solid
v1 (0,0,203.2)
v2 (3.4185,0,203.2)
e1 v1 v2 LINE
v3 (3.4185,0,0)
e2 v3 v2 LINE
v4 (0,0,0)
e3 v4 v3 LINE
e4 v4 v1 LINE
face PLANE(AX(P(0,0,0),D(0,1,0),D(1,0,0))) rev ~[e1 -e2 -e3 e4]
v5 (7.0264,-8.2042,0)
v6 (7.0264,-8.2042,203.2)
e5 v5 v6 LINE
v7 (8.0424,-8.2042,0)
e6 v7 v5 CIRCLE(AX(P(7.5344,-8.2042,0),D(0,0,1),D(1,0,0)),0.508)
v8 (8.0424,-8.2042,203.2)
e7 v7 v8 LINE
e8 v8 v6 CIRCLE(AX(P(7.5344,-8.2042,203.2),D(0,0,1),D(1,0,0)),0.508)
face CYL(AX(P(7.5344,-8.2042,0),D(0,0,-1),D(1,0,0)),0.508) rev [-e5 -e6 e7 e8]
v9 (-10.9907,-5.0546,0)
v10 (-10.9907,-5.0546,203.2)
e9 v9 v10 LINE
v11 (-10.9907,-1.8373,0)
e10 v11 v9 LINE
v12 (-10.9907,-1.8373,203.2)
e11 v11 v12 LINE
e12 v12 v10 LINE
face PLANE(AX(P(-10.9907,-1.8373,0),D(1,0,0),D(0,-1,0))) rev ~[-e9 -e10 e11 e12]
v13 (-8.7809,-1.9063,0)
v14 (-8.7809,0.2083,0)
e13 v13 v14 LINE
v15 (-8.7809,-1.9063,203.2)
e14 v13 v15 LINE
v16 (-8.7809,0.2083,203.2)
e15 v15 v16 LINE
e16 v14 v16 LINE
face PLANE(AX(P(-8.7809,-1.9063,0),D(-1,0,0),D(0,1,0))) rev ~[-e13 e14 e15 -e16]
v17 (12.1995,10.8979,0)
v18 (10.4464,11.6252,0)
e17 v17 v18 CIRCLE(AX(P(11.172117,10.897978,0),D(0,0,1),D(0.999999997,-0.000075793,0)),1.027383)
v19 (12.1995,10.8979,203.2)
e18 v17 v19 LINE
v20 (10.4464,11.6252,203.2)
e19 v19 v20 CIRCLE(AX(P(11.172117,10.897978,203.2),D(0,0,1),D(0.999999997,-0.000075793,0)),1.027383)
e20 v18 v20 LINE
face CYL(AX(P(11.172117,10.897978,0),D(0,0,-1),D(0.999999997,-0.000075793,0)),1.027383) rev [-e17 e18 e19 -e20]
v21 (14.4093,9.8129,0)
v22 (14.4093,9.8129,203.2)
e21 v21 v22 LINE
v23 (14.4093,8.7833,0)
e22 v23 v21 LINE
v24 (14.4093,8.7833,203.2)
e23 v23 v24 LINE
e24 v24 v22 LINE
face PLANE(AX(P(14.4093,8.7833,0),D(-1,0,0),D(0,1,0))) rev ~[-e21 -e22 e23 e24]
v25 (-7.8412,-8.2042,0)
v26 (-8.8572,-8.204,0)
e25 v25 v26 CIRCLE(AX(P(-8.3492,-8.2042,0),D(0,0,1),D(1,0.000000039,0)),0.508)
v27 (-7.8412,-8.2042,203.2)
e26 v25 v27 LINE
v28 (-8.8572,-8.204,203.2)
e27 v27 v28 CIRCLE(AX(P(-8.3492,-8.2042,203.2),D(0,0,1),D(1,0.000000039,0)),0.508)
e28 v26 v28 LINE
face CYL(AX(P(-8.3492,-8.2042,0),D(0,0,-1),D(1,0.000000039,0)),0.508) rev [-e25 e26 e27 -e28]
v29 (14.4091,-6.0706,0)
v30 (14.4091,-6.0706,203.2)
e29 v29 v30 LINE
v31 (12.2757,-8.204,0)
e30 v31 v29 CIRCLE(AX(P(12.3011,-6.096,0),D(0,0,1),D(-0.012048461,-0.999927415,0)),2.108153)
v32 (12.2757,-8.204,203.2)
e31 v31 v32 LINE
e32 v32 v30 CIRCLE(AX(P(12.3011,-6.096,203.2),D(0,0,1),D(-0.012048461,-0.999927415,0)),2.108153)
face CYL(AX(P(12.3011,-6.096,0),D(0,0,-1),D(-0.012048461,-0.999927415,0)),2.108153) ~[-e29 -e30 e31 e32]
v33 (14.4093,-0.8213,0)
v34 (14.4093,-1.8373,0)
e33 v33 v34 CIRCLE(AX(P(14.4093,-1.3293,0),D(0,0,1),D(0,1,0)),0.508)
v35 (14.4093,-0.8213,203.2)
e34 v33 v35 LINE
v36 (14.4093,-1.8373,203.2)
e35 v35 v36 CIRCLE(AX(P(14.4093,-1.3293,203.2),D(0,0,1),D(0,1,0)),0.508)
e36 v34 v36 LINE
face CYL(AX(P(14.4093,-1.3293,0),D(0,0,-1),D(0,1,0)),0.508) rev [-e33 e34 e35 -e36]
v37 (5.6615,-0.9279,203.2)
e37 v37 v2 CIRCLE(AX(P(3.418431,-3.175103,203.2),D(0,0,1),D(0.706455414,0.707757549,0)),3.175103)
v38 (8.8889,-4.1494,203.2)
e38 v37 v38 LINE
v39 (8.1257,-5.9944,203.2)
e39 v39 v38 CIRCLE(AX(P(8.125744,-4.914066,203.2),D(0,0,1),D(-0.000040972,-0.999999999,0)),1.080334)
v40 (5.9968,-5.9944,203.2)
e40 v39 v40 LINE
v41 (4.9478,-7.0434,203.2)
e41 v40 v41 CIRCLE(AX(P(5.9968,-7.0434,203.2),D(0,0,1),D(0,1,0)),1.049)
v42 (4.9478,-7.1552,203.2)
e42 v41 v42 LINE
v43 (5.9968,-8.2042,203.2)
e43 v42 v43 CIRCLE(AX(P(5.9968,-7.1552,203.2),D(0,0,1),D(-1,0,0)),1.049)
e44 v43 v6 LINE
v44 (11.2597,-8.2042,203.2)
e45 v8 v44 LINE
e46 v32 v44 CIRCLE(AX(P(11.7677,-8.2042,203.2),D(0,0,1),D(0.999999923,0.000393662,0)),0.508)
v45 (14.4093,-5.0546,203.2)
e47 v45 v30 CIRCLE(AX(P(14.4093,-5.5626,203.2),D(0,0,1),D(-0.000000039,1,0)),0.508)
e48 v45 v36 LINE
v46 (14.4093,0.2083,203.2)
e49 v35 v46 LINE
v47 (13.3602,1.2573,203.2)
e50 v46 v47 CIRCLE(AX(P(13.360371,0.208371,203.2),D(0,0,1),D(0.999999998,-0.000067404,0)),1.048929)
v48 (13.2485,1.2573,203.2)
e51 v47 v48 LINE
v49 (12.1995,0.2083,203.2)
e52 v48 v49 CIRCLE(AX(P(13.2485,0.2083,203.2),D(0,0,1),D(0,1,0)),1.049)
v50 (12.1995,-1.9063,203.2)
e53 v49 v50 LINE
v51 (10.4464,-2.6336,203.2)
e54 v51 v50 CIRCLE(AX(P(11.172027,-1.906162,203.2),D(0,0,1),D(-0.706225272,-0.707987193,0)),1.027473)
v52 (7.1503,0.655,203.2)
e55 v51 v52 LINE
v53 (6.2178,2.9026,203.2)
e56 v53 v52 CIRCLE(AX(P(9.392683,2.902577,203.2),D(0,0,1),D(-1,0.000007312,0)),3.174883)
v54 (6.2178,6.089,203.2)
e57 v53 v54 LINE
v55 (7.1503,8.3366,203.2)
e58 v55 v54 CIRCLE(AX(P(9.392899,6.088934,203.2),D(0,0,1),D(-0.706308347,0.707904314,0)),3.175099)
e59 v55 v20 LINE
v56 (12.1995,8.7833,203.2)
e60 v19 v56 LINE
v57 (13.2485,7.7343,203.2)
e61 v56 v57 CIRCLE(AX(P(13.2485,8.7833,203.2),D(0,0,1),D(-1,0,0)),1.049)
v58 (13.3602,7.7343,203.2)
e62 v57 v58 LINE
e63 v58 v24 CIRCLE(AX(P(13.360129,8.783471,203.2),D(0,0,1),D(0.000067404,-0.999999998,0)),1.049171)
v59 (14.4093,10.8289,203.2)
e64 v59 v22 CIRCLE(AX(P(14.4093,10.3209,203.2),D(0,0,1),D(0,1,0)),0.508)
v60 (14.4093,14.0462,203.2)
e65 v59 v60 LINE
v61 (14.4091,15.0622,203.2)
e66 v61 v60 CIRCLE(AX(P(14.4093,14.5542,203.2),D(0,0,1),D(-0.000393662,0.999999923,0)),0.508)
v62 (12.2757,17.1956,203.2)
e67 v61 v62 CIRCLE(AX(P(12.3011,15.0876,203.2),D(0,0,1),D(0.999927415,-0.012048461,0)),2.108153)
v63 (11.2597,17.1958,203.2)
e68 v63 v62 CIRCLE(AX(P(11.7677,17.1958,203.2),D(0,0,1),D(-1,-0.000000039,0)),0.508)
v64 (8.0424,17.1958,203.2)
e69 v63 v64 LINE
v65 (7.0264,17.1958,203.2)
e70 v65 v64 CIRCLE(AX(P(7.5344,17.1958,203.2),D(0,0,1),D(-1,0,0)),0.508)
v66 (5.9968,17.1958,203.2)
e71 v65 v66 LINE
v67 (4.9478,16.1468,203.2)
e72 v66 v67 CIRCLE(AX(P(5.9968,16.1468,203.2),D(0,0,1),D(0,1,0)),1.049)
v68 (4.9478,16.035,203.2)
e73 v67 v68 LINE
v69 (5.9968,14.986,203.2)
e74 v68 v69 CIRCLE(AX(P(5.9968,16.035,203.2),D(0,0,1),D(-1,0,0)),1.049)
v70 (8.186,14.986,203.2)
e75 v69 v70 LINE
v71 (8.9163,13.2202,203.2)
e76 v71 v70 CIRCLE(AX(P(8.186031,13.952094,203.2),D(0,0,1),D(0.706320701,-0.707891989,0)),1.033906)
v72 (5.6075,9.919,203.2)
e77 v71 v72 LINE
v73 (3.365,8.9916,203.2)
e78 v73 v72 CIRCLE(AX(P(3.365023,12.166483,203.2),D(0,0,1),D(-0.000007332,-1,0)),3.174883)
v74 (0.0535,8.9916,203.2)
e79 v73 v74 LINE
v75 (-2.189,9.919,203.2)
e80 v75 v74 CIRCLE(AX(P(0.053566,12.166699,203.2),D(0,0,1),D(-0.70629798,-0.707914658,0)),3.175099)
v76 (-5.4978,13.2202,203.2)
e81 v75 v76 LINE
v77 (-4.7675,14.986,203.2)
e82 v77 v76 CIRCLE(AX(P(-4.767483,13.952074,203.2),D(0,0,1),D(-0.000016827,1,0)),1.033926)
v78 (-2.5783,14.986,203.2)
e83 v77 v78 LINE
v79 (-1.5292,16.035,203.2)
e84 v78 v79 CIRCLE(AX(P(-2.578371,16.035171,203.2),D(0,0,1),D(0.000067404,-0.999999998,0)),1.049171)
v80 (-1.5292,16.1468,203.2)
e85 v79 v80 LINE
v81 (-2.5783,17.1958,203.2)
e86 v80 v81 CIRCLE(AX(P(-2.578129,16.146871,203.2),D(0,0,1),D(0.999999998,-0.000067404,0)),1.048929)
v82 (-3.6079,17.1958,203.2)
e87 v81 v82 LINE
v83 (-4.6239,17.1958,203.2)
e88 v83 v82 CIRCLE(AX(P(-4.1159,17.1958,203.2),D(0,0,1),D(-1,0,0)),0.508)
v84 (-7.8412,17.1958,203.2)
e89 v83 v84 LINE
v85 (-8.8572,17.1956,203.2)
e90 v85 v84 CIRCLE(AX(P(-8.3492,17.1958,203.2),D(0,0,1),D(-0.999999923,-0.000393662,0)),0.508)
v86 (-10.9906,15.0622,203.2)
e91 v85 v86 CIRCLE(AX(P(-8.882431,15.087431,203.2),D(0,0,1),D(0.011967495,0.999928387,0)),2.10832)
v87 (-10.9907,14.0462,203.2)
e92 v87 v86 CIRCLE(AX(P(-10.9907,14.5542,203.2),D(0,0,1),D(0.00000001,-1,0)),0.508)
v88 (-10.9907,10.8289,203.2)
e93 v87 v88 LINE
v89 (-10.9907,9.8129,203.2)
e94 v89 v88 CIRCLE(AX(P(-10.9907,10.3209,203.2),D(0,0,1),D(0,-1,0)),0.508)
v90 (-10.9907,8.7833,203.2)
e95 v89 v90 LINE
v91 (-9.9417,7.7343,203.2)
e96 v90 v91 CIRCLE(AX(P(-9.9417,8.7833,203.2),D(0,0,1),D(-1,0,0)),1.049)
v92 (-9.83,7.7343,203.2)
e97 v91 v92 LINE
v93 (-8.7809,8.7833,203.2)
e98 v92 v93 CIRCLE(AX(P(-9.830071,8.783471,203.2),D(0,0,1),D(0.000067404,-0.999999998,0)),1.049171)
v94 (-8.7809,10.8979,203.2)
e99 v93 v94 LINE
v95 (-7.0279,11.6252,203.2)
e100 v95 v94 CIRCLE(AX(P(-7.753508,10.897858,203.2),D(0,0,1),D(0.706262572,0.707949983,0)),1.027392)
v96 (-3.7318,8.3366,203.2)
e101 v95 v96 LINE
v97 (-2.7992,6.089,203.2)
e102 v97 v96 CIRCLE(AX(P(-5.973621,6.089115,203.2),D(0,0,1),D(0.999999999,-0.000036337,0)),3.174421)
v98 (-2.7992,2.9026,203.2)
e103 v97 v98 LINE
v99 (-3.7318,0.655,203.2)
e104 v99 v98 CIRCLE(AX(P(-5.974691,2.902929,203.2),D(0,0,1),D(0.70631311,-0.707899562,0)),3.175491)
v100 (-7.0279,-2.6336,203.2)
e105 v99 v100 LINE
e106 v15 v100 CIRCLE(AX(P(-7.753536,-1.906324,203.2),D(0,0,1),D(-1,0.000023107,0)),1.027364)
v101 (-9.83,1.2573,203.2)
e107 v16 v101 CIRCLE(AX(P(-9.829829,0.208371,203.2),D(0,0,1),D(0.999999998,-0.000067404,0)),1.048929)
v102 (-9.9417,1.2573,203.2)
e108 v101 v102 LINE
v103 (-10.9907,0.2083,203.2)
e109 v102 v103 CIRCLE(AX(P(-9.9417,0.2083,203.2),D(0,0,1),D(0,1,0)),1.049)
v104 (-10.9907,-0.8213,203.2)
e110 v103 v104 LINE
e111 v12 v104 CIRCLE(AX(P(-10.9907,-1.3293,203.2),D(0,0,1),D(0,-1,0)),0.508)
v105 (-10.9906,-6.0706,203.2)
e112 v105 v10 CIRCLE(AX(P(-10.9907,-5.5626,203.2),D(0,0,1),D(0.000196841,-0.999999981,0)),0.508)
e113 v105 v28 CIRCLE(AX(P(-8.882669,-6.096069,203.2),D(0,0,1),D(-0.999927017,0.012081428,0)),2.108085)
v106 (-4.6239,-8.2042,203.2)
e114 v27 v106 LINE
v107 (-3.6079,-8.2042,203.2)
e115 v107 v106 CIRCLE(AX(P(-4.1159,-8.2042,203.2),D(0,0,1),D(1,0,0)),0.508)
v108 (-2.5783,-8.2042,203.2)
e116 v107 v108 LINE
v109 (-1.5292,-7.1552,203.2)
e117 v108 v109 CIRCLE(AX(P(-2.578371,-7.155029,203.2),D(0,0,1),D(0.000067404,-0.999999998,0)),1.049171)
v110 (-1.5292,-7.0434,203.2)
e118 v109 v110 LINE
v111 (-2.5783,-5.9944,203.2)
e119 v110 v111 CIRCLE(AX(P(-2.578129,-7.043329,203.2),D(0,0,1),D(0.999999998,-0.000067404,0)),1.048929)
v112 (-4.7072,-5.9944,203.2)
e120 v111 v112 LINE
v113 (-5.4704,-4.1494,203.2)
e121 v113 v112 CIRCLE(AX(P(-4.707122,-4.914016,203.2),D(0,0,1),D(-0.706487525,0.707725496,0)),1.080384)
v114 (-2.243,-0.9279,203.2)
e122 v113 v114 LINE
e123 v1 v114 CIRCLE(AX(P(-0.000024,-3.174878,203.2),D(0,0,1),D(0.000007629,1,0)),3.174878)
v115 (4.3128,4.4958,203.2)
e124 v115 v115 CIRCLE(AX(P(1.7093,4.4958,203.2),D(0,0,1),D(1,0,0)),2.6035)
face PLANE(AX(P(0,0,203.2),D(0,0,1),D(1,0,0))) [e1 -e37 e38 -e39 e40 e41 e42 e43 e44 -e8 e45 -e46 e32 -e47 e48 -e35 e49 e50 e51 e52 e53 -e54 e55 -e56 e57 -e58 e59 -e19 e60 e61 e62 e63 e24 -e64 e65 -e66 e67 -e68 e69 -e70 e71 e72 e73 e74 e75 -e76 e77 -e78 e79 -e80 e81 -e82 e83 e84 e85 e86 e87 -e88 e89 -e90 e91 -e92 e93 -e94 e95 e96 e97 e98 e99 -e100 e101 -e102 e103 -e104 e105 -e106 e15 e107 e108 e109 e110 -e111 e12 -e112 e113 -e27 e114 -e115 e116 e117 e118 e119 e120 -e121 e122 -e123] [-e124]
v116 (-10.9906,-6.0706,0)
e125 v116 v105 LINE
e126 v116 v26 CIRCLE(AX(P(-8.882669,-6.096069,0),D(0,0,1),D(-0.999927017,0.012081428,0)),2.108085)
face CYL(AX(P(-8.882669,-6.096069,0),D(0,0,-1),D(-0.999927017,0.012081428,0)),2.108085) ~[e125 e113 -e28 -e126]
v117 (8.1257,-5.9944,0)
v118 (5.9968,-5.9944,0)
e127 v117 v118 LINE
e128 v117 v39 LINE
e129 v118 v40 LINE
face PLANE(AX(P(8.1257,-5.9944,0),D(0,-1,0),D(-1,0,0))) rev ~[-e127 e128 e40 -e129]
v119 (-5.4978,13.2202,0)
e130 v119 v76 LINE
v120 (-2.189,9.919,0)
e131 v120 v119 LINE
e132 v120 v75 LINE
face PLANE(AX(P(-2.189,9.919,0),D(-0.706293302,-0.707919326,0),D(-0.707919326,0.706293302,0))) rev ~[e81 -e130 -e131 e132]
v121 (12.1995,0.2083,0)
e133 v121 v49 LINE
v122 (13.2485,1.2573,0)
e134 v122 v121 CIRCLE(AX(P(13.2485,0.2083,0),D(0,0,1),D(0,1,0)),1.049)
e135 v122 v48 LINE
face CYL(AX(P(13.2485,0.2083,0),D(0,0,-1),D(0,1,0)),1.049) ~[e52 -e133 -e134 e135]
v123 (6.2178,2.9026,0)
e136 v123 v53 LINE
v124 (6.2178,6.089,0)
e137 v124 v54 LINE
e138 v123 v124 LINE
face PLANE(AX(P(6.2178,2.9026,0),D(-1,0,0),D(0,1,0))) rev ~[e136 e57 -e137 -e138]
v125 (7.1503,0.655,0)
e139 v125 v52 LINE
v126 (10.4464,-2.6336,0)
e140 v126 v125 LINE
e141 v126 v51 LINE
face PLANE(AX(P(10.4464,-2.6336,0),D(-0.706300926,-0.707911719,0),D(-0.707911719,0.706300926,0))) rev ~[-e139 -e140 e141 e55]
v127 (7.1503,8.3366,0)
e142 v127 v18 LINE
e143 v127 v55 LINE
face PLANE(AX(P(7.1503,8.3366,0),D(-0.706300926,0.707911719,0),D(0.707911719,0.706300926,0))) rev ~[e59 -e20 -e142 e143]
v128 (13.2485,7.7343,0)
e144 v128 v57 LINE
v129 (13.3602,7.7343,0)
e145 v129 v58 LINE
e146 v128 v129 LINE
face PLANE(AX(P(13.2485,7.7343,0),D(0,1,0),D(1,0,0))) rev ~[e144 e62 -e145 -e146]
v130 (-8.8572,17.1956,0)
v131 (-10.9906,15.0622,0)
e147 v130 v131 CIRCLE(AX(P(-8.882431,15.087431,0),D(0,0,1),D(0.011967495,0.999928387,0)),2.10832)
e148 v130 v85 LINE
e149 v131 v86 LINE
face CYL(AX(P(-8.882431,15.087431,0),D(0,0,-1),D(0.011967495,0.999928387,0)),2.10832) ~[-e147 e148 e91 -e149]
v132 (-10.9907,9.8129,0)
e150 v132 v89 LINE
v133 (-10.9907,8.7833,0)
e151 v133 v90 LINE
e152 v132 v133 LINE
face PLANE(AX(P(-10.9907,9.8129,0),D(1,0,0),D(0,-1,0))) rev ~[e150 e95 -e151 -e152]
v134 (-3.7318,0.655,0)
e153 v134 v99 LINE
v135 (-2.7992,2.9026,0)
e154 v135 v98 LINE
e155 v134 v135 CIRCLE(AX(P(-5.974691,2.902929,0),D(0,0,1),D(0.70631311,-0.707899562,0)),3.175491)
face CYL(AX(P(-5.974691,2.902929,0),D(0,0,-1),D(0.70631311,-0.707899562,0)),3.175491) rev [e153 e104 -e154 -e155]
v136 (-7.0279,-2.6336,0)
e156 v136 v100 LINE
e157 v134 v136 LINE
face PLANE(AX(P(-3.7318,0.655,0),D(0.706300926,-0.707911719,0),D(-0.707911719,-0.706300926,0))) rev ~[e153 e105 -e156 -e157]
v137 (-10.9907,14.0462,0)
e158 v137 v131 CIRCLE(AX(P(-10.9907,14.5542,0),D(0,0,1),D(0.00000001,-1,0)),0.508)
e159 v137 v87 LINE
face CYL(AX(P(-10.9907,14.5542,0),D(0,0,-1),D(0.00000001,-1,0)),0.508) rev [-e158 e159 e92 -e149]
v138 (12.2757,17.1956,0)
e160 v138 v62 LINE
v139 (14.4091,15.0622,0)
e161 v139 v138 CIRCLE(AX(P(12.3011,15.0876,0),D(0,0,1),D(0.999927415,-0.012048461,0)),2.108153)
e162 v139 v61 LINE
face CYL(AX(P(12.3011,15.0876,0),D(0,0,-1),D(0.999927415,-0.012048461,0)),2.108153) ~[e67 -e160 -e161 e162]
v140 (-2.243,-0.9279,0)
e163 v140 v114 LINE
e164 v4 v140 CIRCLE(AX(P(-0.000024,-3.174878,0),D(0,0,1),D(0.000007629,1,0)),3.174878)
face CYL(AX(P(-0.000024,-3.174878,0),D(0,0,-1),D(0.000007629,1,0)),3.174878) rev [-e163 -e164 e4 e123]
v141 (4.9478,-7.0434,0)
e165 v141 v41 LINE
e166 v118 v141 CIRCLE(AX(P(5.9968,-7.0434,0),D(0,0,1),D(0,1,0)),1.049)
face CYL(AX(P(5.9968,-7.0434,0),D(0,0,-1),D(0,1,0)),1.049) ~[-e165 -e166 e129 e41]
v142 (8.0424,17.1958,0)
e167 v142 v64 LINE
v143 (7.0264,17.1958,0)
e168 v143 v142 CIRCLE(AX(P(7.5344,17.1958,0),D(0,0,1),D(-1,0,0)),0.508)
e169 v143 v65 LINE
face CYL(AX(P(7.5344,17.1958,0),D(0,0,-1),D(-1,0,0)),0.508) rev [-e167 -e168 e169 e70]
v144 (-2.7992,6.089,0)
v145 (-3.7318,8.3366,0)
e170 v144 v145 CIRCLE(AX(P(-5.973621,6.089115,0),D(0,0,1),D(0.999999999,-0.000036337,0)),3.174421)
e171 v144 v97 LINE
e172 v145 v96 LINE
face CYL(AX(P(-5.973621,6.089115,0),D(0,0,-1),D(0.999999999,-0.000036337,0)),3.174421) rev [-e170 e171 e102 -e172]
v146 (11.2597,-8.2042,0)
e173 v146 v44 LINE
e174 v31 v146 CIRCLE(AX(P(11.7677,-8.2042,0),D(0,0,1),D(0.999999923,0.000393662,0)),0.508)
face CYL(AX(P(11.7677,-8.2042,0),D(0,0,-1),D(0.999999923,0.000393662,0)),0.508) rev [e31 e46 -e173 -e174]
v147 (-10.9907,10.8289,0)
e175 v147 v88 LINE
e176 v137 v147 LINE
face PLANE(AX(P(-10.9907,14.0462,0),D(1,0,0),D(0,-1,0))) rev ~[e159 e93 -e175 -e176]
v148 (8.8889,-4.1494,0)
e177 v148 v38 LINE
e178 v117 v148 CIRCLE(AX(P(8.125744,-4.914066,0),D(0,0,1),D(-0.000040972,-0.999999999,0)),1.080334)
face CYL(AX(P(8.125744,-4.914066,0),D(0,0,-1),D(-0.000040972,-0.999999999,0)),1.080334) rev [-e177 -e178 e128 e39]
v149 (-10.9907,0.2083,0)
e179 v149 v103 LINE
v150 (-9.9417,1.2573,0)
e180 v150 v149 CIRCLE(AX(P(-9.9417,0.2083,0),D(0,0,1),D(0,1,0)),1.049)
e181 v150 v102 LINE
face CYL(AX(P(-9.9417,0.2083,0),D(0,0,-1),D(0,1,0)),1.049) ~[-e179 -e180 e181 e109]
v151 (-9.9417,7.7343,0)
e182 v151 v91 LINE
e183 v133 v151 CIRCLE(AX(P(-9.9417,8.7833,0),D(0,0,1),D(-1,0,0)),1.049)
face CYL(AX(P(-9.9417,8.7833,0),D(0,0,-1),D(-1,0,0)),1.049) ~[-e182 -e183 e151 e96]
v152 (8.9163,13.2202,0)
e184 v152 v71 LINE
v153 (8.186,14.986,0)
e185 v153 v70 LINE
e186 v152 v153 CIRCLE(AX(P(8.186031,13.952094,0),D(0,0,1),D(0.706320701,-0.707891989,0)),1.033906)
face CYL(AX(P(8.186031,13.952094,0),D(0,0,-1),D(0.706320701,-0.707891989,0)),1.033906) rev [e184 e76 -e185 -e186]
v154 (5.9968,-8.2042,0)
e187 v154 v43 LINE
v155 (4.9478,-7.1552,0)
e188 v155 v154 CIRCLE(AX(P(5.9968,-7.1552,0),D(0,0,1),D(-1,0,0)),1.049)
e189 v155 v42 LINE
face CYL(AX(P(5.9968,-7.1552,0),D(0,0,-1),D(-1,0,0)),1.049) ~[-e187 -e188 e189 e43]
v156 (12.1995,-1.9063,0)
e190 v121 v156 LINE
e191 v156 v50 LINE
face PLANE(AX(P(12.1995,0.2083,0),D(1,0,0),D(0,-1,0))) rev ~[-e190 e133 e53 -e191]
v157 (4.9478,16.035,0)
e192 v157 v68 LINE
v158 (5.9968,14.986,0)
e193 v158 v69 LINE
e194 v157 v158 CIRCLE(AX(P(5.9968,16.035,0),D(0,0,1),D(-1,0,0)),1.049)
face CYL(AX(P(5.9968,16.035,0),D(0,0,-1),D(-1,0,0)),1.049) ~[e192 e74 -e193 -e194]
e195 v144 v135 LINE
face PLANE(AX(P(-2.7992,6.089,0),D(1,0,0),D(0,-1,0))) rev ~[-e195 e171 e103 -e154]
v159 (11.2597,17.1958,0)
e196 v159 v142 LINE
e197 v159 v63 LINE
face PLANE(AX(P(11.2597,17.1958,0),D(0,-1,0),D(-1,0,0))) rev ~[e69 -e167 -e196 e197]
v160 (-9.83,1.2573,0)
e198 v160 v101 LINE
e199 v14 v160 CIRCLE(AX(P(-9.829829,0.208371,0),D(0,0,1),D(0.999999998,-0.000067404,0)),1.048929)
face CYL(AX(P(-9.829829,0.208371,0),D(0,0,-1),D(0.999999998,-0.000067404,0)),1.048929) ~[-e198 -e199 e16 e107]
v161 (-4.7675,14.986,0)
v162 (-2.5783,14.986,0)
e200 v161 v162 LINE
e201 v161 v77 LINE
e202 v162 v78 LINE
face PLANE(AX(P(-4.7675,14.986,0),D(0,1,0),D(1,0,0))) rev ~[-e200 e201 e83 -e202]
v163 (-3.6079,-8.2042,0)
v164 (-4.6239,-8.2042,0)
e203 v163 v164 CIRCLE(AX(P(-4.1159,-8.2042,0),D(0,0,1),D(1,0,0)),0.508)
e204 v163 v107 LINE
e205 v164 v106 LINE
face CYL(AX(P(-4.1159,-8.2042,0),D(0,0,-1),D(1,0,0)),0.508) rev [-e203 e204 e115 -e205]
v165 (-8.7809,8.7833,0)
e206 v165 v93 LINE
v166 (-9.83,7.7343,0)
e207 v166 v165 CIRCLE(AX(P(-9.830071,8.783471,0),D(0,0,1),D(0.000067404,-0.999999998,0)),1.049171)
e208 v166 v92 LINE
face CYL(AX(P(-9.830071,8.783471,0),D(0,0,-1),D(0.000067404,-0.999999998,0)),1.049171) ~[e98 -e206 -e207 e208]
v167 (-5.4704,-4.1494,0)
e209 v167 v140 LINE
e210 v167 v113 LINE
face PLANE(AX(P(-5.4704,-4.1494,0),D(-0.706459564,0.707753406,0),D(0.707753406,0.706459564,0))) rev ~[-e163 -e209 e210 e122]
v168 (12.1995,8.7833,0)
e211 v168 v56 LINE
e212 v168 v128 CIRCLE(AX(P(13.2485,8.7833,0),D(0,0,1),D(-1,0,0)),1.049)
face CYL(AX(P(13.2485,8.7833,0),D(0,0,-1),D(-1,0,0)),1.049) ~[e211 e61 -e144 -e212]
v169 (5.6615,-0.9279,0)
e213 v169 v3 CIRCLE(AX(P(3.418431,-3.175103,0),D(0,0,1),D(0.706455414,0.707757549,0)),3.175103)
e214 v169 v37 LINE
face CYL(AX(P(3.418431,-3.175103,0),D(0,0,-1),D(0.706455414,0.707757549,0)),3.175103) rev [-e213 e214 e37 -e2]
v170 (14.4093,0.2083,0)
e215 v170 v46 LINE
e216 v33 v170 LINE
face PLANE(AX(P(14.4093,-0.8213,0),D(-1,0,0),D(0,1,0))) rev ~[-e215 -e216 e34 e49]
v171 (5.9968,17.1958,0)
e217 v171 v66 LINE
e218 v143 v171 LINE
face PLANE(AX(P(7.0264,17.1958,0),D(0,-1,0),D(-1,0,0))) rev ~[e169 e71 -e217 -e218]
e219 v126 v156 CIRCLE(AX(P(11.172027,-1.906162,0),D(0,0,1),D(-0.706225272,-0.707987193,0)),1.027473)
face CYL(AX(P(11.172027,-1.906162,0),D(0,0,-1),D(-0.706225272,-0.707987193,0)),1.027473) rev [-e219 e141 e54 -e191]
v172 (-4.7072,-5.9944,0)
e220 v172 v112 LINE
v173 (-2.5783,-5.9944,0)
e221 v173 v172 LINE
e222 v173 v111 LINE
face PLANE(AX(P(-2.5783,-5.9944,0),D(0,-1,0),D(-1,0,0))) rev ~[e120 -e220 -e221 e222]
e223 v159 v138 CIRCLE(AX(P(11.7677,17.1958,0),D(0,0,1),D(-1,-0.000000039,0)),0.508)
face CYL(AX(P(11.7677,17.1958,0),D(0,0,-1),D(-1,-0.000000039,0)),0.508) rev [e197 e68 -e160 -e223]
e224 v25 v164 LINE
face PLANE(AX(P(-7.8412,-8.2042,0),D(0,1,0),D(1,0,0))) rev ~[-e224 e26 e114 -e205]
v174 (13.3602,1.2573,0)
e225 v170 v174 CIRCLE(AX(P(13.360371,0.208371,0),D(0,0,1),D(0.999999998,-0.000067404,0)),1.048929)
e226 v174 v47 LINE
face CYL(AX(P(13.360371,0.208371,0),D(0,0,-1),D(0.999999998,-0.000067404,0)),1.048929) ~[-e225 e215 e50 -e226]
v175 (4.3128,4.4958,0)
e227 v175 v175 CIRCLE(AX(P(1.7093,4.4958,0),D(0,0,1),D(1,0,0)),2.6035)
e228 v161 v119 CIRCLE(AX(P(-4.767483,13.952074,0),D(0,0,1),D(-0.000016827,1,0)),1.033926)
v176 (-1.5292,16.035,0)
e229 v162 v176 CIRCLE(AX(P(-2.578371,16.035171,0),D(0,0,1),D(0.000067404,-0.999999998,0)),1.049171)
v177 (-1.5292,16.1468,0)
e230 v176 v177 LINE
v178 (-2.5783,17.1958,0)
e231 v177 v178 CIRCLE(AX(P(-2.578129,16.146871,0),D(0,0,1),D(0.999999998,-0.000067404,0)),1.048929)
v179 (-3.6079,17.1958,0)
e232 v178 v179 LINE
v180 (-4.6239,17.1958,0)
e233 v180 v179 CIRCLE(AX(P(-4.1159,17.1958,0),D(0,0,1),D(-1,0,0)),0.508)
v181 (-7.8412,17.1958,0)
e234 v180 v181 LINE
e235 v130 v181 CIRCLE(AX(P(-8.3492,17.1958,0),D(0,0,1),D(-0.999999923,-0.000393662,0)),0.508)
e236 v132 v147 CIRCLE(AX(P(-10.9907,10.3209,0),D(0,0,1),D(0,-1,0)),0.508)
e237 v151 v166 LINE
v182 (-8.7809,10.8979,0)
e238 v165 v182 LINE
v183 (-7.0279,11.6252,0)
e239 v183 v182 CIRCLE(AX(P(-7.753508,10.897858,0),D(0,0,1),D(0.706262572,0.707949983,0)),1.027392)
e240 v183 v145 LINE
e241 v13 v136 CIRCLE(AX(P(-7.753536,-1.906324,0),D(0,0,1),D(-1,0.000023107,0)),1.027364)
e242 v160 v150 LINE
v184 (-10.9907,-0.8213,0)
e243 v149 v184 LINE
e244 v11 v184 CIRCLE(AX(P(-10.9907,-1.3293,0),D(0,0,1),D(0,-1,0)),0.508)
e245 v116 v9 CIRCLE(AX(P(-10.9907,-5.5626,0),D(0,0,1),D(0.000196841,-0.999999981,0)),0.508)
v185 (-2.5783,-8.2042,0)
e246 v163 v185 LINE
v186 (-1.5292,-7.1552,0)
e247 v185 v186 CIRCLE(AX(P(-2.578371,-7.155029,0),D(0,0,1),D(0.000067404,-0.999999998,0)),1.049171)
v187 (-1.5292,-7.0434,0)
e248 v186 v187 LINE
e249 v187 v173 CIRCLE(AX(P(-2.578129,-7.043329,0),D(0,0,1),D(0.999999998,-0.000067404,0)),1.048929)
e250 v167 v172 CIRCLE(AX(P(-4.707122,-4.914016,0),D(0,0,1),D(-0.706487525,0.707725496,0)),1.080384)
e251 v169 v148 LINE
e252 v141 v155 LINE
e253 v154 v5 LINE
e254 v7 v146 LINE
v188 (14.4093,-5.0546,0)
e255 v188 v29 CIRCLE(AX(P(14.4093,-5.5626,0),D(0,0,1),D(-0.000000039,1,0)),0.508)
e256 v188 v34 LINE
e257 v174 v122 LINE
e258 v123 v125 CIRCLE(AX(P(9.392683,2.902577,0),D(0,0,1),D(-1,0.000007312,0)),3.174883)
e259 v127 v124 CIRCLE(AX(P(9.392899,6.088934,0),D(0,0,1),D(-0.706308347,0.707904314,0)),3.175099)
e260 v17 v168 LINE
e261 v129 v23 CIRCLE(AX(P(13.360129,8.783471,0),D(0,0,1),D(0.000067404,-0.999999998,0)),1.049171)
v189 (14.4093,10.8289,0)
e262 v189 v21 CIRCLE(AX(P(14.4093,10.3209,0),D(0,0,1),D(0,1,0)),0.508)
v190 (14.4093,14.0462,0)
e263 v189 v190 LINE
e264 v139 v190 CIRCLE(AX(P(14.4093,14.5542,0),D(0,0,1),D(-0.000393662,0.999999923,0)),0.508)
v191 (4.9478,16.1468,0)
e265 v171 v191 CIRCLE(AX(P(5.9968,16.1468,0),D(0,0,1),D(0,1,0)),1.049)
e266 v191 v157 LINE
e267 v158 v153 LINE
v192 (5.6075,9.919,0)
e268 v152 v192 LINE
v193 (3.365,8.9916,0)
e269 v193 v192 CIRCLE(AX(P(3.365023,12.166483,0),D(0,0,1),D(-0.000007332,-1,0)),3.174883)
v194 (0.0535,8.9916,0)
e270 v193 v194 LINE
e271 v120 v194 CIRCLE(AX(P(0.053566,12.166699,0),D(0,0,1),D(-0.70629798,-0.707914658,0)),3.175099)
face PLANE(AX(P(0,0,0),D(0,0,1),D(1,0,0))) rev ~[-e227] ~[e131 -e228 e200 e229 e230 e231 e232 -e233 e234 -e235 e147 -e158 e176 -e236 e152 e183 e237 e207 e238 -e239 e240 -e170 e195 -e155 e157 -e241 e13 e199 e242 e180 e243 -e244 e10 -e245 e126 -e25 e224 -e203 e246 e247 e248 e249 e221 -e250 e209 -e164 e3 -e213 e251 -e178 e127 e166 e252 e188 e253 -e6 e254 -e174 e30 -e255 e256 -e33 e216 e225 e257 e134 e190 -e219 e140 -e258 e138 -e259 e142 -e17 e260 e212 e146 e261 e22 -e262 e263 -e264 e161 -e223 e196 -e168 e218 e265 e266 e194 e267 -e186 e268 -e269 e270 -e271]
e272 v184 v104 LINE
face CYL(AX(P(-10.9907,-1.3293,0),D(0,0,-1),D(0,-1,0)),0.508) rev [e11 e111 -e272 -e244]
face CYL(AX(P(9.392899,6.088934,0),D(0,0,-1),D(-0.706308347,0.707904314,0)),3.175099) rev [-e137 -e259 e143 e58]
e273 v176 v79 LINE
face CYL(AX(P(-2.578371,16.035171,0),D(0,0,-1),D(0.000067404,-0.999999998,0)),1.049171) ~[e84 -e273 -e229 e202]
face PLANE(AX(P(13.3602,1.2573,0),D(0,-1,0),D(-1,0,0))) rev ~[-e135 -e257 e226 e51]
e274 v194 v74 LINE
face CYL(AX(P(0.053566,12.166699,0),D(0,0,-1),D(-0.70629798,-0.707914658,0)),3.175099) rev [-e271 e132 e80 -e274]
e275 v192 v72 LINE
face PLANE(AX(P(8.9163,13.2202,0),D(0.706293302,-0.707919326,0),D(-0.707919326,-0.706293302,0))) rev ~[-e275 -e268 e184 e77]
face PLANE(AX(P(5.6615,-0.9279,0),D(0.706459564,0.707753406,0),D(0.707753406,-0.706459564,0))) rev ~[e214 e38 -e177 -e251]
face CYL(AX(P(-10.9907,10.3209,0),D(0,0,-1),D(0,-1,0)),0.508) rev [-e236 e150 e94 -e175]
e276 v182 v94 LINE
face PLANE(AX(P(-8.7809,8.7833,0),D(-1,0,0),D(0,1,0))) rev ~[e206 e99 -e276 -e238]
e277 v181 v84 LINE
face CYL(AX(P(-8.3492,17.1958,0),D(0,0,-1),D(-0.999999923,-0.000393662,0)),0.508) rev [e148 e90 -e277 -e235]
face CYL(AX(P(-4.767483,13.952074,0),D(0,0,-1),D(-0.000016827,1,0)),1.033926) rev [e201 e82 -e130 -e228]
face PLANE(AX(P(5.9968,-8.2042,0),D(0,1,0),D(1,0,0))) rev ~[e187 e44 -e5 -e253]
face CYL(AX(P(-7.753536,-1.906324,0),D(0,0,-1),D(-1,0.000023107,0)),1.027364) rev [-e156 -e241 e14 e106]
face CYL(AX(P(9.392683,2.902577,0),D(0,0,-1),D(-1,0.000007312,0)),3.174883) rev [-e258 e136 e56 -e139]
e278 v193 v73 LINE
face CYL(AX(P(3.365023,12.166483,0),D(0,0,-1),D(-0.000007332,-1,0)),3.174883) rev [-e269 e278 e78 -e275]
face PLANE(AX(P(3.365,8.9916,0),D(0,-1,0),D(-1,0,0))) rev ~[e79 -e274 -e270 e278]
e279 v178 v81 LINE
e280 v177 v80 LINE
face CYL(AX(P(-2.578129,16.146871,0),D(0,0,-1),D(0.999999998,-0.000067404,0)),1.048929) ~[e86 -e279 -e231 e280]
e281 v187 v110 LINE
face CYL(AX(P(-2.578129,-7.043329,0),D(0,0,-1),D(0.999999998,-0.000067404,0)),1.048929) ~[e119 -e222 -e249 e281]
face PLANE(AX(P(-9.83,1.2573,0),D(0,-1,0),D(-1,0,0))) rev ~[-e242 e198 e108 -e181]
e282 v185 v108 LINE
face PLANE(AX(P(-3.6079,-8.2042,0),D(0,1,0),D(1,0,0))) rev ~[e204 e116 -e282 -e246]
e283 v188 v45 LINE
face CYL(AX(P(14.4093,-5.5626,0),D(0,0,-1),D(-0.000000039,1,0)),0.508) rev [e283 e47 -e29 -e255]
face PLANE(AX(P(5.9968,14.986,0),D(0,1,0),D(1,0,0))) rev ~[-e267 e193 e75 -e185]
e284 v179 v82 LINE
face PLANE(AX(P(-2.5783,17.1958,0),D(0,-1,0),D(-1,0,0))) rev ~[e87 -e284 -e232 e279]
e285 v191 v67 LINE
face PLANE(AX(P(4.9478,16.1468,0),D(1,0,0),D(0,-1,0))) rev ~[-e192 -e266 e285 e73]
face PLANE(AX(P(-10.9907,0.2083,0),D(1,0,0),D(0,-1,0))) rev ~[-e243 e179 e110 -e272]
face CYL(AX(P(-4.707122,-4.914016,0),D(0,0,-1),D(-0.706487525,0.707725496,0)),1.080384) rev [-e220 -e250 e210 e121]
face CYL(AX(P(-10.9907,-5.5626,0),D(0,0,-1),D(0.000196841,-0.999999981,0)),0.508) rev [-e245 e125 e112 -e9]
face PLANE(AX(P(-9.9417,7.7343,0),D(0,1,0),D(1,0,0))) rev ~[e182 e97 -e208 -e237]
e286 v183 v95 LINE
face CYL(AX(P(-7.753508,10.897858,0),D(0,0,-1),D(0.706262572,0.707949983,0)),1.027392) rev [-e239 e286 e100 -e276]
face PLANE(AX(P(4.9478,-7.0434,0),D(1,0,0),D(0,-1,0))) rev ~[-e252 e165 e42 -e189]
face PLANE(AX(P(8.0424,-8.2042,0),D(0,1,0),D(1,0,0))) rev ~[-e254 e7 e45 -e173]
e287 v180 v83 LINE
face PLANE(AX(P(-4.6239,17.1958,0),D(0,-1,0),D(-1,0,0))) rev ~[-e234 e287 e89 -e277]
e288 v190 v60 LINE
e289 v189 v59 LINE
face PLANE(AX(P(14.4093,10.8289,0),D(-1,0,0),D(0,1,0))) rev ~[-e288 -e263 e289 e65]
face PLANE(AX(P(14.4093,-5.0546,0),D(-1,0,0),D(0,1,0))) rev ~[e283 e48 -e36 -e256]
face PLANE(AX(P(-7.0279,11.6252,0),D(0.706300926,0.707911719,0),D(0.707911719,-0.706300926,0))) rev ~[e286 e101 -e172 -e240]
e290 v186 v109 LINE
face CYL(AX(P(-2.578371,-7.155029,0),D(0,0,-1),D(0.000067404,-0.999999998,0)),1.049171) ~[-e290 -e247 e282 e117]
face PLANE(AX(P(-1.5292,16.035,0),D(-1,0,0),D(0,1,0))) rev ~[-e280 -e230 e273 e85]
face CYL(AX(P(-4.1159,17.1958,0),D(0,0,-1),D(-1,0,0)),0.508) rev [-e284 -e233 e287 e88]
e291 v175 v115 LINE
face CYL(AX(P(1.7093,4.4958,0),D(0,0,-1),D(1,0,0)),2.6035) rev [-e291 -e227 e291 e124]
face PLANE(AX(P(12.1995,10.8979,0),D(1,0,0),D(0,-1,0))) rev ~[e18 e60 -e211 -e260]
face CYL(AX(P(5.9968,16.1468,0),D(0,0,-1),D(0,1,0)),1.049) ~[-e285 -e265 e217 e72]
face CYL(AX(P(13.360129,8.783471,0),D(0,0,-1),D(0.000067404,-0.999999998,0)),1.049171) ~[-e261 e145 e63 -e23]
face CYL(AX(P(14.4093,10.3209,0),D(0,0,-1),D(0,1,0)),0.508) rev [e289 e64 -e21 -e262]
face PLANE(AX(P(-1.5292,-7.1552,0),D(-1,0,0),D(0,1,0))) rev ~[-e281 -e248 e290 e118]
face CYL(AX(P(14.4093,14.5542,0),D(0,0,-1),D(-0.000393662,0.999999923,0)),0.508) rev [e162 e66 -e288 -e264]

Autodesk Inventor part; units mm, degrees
ref_plane "YZ Plane" through (0, 0, 0) normal (1, 0, 0) x (0, 1, 0)
ref_plane "XZ Plane" through (0, 0, 0) normal (0, 1, 0) x (-1, 0, 0)
ref_plane "XY Plane" through (0, 0, 0) normal (0, 0, 1) x (1, 0, 0)
sketch "Sketch1" plane through (0, 0, 0) normal (0, 0, 1) x (1, 0, 0)
  arc A0 (-5.4704, -4.1494) -> (-4.7072, -5.9944) centre (-4.7072, -4.914) ccw
  line L0 (-5.4704, -4.1494) -> (-2.243, -0.9279)
  arc A1 (0, 0) -> (-2.243, -0.9279) centre (0, -3.175) ccw
  line L1 (0, 0) -> (3.4185, 0)
  arc A2 (5.6615, -0.9279) -> (3.4185, 0) centre (3.4185, -3.175) ccw
  line L2 (5.6615, -0.9279) -> (8.8889, -4.1494)
  arc A3 (8.1257, -5.9944) -> (8.8889, -4.1494) centre (8.1257, -4.914) ccw
  line L3 (8.1257, -5.9944) -> (5.9968, -5.9944)
  arc A4 (5.9968, -5.9944) -> (4.9478, -7.0434) centre (5.9968, -7.0434) ccw
  line L4 (4.9478, -7.0434) -> (4.9478, -7.1552)
  arc A5 (4.9478, -7.1552) -> (5.9968, -8.2042) centre (5.9968, -7.1552) ccw
  line L5 (5.9968, -8.2042) -> (7.0264, -8.2042)
  arc A6 (8.0424, -8.2042) -> (7.0264, -8.2042) centre (7.5344, -8.2042) ccw
  line L6 (8.0424, -8.2042) -> (11.2597, -8.2042)
  arc A7 (12.2757, -8.204) -> (11.2597, -8.2042) centre (11.7677, -8.2042) ccw
  arc A8 (12.2757, -8.204) -> (14.4091, -6.0706) centre (12.3011, -6.096) ccw
  arc A9 (14.4093, -5.0546) -> (14.4091, -6.0706) centre (14.4093, -5.5626) ccw
  line L7 (14.4093, -5.0546) -> (14.4093, -1.8373)
  arc A10 (14.4093, -0.8213) -> (14.4093, -1.8373) centre (14.4093, -1.3293) ccw
  line L8 (14.4093, -0.8213) -> (14.4093, 0.2083)
  arc A11 (14.4093, 0.2083) -> (13.3602, 1.2573) centre (13.3602, 0.2083) ccw
  line L9 (13.3602, 1.2573) -> (13.2485, 1.2573)
  arc A12 (13.2485, 1.2573) -> (12.1995, 0.2083) centre (13.2485, 0.2083) ccw
  line L10 (12.1995, 0.2083) -> (12.1995, -1.9063)
  arc A13 (10.4464, -2.6336) -> (12.1995, -1.9063) centre (11.172, -1.9063) ccw
  line L11 (10.4464, -2.6336) -> (7.1503, 0.655)
  arc A14 (6.2178, 2.9026) -> (7.1503, 0.655) centre (9.3928, 2.9026) ccw
  line L12 (6.2178, 2.9026) -> (6.2178, 6.089)
  arc A15 (7.1503, 8.3366) -> (6.2178, 6.089) centre (9.3928, 6.089) ccw
  line L13 (7.1503, 8.3366) -> (10.4464, 11.6252)
  arc A16 (12.1995, 10.8979) -> (10.4464, 11.6252) centre (11.172, 10.8979) ccw
  line L14 (12.1995, 10.8979) -> (12.1995, 8.7833)
  arc A17 (12.1995, 8.7833) -> (13.2485, 7.7343) centre (13.2485, 8.7833) ccw
  line L15 (13.2485, 7.7343) -> (13.3602, 7.7343)
  arc A18 (13.3602, 7.7343) -> (14.4093, 8.7833) centre (13.3602, 8.7833) ccw
  line L16 (14.4093, 8.7833) -> (14.4093, 9.8129)
  arc A19 (14.4093, 10.8289) -> (14.4093, 9.8129) centre (14.4093, 10.3209) ccw
  line L17 (14.4093, 10.8289) -> (14.4093, 14.0462)
  arc A20 (14.4091, 15.0622) -> (14.4093, 14.0462) centre (14.4093, 14.5542) ccw
  arc A21 (14.4091, 15.0622) -> (12.2757, 17.1956) centre (12.3011, 15.0876) ccw
  arc A22 (11.2597, 17.1958) -> (12.2757, 17.1956) centre (11.7677, 17.1958) ccw
  line L18 (11.2597, 17.1958) -> (8.0424, 17.1958)
  arc A23 (7.0264, 17.1958) -> (8.0424, 17.1958) centre (7.5344, 17.1958) ccw
  line L19 (7.0264, 17.1958) -> (5.9968, 17.1958)
  arc A24 (5.9968, 17.1958) -> (4.9478, 16.1468) centre (5.9968, 16.1468) ccw
  line L20 (4.9478, 16.1468) -> (4.9478, 16.035)
  arc A25 (4.9478, 16.035) -> (5.9968, 14.986) centre (5.9968, 16.035) ccw
  line L21 (5.9968, 14.986) -> (8.186, 14.986)
  arc A26 (8.9163, 13.2202) -> (8.186, 14.986) centre (8.186, 13.9521) ccw
  line L22 (8.9163, 13.2202) -> (5.6075, 9.919)
  arc A27 (3.365, 8.9916) -> (5.6075, 9.919) centre (3.365, 12.1666) ccw
  line L23 (3.365, 8.9916) -> (0.0535, 8.9916)
  arc A28 (-2.189, 9.919) -> (0.0535, 8.9916) centre (0.0535, 12.1666) ccw
  line L24 (-2.189, 9.919) -> (-5.4978, 13.2202)
  arc A29 (-4.7675, 14.986) -> (-5.4978, 13.2202) centre (-4.7675, 13.9521) ccw
  line L25 (-4.7675, 14.986) -> (-2.5783, 14.986)
  arc A30 (-2.5783, 14.986) -> (-1.5292, 16.035) centre (-2.5783, 16.035) ccw
  line L26 (-1.5292, 16.035) -> (-1.5292, 16.1468)
  arc A31 (-1.5292, 16.1468) -> (-2.5783, 17.1958) centre (-2.5783, 16.1468) ccw
  line L27 (-2.5783, 17.1958) -> (-3.6079, 17.1958)
  arc A32 (-4.6239, 17.1958) -> (-3.6079, 17.1958) centre (-4.1159, 17.1958) ccw
  line L28 (-4.6239, 17.1958) -> (-7.8412, 17.1958)
  arc A33 (-8.8572, 17.1956) -> (-7.8412, 17.1958) centre (-8.3492, 17.1958) ccw
  arc A34 (-8.8572, 17.1956) -> (-10.9906, 15.0622) centre (-8.8825, 15.0876) ccw
  arc A35 (-10.9907, 14.0462) -> (-10.9906, 15.0622) centre (-10.9907, 14.5542) ccw
  line L29 (-10.9907, 14.0462) -> (-10.9907, 10.8289)
  arc A36 (-10.9907, 9.8129) -> (-10.9907, 10.8289) centre (-10.9907, 10.3209) ccw
  line L30 (-10.9907, 9.8129) -> (-10.9907, 8.7833)
  arc A37 (-10.9907, 8.7833) -> (-9.9417, 7.7343) centre (-9.9417, 8.7833) ccw
  line L31 (-9.9417, 7.7343) -> (-9.83, 7.7343)
  arc A38 (-9.83, 7.7343) -> (-8.7809, 8.7833) centre (-9.83, 8.7833) ccw
  line L32 (-8.7809, 8.7833) -> (-8.7809, 10.8979)
  arc A39 (-7.0279, 11.6252) -> (-8.7809, 10.8979) centre (-7.7535, 10.8979) ccw
  line L33 (-7.0279, 11.6252) -> (-3.7318, 8.3366)
  arc A40 (-2.7992, 6.089) -> (-3.7318, 8.3366) centre (-5.9742, 6.089) ccw
  line L34 (-2.7992, 6.089) -> (-2.7992, 2.9026)
  arc A41 (-3.7318, 0.655) -> (-2.7992, 2.9026) centre (-5.9742, 2.9026) ccw
  line L35 (-3.7318, 0.655) -> (-7.0279, -2.6336)
  arc A42 (-8.7809, -1.9063) -> (-7.0279, -2.6336) centre (-7.7535, -1.9063) ccw
  line L36 (-8.7809, -1.9063) -> (-8.7809, 0.2083)
  arc A43 (-8.7809, 0.2083) -> (-9.83, 1.2573) centre (-9.83, 0.2083) ccw
  line L37 (-9.83, 1.2573) -> (-9.9417, 1.2573)
  arc A44 (-9.9417, 1.2573) -> (-10.9907, 0.2083) centre (-9.9417, 0.2083) ccw
  line L38 (-10.9907, 0.2083) -> (-10.9907, -0.8213)
  arc A45 (-10.9907, -1.8373) -> (-10.9907, -0.8213) centre (-10.9907, -1.3293) ccw
  line L39 (-10.9907, -1.8373) -> (-10.9907, -5.0546)
  arc A46 (-10.9906, -6.0706) -> (-10.9907, -5.0546) centre (-10.9907, -5.5626) ccw
  arc A47 (-10.9906, -6.0706) -> (-8.8572, -8.204) centre (-8.8825, -6.096) ccw
  arc A48 (-7.8412, -8.2042) -> (-8.8572, -8.204) centre (-8.3492, -8.2042) ccw
  line L40 (-7.8412, -8.2042) -> (-4.6239, -8.2042)
  arc A49 (-3.6079, -8.2042) -> (-4.6239, -8.2042) centre (-4.1159, -8.2042) ccw
  line L41 (-3.6079, -8.2042) -> (-2.5783, -8.2042)
  arc A50 (-2.5783, -8.2042) -> (-1.5292, -7.1552) centre (-2.5783, -7.1552) ccw
  line L42 (-1.5292, -7.1552) -> (-1.5292, -7.0434)
  arc A51 (-1.5292, -7.0434) -> (-2.5783, -5.9944) centre (-2.5783, -7.0434) ccw
  line L43 (-2.5783, -5.9944) -> (-4.7072, -5.9944)
  circle A52 centre (1.7093, 4.4958) radius 2.6035
extrude "Extrusion1" add sketch "Sketch1" along normal blind 203.2
properties part number "8 in 1x1 T slot" material "Steel, Alloy"
